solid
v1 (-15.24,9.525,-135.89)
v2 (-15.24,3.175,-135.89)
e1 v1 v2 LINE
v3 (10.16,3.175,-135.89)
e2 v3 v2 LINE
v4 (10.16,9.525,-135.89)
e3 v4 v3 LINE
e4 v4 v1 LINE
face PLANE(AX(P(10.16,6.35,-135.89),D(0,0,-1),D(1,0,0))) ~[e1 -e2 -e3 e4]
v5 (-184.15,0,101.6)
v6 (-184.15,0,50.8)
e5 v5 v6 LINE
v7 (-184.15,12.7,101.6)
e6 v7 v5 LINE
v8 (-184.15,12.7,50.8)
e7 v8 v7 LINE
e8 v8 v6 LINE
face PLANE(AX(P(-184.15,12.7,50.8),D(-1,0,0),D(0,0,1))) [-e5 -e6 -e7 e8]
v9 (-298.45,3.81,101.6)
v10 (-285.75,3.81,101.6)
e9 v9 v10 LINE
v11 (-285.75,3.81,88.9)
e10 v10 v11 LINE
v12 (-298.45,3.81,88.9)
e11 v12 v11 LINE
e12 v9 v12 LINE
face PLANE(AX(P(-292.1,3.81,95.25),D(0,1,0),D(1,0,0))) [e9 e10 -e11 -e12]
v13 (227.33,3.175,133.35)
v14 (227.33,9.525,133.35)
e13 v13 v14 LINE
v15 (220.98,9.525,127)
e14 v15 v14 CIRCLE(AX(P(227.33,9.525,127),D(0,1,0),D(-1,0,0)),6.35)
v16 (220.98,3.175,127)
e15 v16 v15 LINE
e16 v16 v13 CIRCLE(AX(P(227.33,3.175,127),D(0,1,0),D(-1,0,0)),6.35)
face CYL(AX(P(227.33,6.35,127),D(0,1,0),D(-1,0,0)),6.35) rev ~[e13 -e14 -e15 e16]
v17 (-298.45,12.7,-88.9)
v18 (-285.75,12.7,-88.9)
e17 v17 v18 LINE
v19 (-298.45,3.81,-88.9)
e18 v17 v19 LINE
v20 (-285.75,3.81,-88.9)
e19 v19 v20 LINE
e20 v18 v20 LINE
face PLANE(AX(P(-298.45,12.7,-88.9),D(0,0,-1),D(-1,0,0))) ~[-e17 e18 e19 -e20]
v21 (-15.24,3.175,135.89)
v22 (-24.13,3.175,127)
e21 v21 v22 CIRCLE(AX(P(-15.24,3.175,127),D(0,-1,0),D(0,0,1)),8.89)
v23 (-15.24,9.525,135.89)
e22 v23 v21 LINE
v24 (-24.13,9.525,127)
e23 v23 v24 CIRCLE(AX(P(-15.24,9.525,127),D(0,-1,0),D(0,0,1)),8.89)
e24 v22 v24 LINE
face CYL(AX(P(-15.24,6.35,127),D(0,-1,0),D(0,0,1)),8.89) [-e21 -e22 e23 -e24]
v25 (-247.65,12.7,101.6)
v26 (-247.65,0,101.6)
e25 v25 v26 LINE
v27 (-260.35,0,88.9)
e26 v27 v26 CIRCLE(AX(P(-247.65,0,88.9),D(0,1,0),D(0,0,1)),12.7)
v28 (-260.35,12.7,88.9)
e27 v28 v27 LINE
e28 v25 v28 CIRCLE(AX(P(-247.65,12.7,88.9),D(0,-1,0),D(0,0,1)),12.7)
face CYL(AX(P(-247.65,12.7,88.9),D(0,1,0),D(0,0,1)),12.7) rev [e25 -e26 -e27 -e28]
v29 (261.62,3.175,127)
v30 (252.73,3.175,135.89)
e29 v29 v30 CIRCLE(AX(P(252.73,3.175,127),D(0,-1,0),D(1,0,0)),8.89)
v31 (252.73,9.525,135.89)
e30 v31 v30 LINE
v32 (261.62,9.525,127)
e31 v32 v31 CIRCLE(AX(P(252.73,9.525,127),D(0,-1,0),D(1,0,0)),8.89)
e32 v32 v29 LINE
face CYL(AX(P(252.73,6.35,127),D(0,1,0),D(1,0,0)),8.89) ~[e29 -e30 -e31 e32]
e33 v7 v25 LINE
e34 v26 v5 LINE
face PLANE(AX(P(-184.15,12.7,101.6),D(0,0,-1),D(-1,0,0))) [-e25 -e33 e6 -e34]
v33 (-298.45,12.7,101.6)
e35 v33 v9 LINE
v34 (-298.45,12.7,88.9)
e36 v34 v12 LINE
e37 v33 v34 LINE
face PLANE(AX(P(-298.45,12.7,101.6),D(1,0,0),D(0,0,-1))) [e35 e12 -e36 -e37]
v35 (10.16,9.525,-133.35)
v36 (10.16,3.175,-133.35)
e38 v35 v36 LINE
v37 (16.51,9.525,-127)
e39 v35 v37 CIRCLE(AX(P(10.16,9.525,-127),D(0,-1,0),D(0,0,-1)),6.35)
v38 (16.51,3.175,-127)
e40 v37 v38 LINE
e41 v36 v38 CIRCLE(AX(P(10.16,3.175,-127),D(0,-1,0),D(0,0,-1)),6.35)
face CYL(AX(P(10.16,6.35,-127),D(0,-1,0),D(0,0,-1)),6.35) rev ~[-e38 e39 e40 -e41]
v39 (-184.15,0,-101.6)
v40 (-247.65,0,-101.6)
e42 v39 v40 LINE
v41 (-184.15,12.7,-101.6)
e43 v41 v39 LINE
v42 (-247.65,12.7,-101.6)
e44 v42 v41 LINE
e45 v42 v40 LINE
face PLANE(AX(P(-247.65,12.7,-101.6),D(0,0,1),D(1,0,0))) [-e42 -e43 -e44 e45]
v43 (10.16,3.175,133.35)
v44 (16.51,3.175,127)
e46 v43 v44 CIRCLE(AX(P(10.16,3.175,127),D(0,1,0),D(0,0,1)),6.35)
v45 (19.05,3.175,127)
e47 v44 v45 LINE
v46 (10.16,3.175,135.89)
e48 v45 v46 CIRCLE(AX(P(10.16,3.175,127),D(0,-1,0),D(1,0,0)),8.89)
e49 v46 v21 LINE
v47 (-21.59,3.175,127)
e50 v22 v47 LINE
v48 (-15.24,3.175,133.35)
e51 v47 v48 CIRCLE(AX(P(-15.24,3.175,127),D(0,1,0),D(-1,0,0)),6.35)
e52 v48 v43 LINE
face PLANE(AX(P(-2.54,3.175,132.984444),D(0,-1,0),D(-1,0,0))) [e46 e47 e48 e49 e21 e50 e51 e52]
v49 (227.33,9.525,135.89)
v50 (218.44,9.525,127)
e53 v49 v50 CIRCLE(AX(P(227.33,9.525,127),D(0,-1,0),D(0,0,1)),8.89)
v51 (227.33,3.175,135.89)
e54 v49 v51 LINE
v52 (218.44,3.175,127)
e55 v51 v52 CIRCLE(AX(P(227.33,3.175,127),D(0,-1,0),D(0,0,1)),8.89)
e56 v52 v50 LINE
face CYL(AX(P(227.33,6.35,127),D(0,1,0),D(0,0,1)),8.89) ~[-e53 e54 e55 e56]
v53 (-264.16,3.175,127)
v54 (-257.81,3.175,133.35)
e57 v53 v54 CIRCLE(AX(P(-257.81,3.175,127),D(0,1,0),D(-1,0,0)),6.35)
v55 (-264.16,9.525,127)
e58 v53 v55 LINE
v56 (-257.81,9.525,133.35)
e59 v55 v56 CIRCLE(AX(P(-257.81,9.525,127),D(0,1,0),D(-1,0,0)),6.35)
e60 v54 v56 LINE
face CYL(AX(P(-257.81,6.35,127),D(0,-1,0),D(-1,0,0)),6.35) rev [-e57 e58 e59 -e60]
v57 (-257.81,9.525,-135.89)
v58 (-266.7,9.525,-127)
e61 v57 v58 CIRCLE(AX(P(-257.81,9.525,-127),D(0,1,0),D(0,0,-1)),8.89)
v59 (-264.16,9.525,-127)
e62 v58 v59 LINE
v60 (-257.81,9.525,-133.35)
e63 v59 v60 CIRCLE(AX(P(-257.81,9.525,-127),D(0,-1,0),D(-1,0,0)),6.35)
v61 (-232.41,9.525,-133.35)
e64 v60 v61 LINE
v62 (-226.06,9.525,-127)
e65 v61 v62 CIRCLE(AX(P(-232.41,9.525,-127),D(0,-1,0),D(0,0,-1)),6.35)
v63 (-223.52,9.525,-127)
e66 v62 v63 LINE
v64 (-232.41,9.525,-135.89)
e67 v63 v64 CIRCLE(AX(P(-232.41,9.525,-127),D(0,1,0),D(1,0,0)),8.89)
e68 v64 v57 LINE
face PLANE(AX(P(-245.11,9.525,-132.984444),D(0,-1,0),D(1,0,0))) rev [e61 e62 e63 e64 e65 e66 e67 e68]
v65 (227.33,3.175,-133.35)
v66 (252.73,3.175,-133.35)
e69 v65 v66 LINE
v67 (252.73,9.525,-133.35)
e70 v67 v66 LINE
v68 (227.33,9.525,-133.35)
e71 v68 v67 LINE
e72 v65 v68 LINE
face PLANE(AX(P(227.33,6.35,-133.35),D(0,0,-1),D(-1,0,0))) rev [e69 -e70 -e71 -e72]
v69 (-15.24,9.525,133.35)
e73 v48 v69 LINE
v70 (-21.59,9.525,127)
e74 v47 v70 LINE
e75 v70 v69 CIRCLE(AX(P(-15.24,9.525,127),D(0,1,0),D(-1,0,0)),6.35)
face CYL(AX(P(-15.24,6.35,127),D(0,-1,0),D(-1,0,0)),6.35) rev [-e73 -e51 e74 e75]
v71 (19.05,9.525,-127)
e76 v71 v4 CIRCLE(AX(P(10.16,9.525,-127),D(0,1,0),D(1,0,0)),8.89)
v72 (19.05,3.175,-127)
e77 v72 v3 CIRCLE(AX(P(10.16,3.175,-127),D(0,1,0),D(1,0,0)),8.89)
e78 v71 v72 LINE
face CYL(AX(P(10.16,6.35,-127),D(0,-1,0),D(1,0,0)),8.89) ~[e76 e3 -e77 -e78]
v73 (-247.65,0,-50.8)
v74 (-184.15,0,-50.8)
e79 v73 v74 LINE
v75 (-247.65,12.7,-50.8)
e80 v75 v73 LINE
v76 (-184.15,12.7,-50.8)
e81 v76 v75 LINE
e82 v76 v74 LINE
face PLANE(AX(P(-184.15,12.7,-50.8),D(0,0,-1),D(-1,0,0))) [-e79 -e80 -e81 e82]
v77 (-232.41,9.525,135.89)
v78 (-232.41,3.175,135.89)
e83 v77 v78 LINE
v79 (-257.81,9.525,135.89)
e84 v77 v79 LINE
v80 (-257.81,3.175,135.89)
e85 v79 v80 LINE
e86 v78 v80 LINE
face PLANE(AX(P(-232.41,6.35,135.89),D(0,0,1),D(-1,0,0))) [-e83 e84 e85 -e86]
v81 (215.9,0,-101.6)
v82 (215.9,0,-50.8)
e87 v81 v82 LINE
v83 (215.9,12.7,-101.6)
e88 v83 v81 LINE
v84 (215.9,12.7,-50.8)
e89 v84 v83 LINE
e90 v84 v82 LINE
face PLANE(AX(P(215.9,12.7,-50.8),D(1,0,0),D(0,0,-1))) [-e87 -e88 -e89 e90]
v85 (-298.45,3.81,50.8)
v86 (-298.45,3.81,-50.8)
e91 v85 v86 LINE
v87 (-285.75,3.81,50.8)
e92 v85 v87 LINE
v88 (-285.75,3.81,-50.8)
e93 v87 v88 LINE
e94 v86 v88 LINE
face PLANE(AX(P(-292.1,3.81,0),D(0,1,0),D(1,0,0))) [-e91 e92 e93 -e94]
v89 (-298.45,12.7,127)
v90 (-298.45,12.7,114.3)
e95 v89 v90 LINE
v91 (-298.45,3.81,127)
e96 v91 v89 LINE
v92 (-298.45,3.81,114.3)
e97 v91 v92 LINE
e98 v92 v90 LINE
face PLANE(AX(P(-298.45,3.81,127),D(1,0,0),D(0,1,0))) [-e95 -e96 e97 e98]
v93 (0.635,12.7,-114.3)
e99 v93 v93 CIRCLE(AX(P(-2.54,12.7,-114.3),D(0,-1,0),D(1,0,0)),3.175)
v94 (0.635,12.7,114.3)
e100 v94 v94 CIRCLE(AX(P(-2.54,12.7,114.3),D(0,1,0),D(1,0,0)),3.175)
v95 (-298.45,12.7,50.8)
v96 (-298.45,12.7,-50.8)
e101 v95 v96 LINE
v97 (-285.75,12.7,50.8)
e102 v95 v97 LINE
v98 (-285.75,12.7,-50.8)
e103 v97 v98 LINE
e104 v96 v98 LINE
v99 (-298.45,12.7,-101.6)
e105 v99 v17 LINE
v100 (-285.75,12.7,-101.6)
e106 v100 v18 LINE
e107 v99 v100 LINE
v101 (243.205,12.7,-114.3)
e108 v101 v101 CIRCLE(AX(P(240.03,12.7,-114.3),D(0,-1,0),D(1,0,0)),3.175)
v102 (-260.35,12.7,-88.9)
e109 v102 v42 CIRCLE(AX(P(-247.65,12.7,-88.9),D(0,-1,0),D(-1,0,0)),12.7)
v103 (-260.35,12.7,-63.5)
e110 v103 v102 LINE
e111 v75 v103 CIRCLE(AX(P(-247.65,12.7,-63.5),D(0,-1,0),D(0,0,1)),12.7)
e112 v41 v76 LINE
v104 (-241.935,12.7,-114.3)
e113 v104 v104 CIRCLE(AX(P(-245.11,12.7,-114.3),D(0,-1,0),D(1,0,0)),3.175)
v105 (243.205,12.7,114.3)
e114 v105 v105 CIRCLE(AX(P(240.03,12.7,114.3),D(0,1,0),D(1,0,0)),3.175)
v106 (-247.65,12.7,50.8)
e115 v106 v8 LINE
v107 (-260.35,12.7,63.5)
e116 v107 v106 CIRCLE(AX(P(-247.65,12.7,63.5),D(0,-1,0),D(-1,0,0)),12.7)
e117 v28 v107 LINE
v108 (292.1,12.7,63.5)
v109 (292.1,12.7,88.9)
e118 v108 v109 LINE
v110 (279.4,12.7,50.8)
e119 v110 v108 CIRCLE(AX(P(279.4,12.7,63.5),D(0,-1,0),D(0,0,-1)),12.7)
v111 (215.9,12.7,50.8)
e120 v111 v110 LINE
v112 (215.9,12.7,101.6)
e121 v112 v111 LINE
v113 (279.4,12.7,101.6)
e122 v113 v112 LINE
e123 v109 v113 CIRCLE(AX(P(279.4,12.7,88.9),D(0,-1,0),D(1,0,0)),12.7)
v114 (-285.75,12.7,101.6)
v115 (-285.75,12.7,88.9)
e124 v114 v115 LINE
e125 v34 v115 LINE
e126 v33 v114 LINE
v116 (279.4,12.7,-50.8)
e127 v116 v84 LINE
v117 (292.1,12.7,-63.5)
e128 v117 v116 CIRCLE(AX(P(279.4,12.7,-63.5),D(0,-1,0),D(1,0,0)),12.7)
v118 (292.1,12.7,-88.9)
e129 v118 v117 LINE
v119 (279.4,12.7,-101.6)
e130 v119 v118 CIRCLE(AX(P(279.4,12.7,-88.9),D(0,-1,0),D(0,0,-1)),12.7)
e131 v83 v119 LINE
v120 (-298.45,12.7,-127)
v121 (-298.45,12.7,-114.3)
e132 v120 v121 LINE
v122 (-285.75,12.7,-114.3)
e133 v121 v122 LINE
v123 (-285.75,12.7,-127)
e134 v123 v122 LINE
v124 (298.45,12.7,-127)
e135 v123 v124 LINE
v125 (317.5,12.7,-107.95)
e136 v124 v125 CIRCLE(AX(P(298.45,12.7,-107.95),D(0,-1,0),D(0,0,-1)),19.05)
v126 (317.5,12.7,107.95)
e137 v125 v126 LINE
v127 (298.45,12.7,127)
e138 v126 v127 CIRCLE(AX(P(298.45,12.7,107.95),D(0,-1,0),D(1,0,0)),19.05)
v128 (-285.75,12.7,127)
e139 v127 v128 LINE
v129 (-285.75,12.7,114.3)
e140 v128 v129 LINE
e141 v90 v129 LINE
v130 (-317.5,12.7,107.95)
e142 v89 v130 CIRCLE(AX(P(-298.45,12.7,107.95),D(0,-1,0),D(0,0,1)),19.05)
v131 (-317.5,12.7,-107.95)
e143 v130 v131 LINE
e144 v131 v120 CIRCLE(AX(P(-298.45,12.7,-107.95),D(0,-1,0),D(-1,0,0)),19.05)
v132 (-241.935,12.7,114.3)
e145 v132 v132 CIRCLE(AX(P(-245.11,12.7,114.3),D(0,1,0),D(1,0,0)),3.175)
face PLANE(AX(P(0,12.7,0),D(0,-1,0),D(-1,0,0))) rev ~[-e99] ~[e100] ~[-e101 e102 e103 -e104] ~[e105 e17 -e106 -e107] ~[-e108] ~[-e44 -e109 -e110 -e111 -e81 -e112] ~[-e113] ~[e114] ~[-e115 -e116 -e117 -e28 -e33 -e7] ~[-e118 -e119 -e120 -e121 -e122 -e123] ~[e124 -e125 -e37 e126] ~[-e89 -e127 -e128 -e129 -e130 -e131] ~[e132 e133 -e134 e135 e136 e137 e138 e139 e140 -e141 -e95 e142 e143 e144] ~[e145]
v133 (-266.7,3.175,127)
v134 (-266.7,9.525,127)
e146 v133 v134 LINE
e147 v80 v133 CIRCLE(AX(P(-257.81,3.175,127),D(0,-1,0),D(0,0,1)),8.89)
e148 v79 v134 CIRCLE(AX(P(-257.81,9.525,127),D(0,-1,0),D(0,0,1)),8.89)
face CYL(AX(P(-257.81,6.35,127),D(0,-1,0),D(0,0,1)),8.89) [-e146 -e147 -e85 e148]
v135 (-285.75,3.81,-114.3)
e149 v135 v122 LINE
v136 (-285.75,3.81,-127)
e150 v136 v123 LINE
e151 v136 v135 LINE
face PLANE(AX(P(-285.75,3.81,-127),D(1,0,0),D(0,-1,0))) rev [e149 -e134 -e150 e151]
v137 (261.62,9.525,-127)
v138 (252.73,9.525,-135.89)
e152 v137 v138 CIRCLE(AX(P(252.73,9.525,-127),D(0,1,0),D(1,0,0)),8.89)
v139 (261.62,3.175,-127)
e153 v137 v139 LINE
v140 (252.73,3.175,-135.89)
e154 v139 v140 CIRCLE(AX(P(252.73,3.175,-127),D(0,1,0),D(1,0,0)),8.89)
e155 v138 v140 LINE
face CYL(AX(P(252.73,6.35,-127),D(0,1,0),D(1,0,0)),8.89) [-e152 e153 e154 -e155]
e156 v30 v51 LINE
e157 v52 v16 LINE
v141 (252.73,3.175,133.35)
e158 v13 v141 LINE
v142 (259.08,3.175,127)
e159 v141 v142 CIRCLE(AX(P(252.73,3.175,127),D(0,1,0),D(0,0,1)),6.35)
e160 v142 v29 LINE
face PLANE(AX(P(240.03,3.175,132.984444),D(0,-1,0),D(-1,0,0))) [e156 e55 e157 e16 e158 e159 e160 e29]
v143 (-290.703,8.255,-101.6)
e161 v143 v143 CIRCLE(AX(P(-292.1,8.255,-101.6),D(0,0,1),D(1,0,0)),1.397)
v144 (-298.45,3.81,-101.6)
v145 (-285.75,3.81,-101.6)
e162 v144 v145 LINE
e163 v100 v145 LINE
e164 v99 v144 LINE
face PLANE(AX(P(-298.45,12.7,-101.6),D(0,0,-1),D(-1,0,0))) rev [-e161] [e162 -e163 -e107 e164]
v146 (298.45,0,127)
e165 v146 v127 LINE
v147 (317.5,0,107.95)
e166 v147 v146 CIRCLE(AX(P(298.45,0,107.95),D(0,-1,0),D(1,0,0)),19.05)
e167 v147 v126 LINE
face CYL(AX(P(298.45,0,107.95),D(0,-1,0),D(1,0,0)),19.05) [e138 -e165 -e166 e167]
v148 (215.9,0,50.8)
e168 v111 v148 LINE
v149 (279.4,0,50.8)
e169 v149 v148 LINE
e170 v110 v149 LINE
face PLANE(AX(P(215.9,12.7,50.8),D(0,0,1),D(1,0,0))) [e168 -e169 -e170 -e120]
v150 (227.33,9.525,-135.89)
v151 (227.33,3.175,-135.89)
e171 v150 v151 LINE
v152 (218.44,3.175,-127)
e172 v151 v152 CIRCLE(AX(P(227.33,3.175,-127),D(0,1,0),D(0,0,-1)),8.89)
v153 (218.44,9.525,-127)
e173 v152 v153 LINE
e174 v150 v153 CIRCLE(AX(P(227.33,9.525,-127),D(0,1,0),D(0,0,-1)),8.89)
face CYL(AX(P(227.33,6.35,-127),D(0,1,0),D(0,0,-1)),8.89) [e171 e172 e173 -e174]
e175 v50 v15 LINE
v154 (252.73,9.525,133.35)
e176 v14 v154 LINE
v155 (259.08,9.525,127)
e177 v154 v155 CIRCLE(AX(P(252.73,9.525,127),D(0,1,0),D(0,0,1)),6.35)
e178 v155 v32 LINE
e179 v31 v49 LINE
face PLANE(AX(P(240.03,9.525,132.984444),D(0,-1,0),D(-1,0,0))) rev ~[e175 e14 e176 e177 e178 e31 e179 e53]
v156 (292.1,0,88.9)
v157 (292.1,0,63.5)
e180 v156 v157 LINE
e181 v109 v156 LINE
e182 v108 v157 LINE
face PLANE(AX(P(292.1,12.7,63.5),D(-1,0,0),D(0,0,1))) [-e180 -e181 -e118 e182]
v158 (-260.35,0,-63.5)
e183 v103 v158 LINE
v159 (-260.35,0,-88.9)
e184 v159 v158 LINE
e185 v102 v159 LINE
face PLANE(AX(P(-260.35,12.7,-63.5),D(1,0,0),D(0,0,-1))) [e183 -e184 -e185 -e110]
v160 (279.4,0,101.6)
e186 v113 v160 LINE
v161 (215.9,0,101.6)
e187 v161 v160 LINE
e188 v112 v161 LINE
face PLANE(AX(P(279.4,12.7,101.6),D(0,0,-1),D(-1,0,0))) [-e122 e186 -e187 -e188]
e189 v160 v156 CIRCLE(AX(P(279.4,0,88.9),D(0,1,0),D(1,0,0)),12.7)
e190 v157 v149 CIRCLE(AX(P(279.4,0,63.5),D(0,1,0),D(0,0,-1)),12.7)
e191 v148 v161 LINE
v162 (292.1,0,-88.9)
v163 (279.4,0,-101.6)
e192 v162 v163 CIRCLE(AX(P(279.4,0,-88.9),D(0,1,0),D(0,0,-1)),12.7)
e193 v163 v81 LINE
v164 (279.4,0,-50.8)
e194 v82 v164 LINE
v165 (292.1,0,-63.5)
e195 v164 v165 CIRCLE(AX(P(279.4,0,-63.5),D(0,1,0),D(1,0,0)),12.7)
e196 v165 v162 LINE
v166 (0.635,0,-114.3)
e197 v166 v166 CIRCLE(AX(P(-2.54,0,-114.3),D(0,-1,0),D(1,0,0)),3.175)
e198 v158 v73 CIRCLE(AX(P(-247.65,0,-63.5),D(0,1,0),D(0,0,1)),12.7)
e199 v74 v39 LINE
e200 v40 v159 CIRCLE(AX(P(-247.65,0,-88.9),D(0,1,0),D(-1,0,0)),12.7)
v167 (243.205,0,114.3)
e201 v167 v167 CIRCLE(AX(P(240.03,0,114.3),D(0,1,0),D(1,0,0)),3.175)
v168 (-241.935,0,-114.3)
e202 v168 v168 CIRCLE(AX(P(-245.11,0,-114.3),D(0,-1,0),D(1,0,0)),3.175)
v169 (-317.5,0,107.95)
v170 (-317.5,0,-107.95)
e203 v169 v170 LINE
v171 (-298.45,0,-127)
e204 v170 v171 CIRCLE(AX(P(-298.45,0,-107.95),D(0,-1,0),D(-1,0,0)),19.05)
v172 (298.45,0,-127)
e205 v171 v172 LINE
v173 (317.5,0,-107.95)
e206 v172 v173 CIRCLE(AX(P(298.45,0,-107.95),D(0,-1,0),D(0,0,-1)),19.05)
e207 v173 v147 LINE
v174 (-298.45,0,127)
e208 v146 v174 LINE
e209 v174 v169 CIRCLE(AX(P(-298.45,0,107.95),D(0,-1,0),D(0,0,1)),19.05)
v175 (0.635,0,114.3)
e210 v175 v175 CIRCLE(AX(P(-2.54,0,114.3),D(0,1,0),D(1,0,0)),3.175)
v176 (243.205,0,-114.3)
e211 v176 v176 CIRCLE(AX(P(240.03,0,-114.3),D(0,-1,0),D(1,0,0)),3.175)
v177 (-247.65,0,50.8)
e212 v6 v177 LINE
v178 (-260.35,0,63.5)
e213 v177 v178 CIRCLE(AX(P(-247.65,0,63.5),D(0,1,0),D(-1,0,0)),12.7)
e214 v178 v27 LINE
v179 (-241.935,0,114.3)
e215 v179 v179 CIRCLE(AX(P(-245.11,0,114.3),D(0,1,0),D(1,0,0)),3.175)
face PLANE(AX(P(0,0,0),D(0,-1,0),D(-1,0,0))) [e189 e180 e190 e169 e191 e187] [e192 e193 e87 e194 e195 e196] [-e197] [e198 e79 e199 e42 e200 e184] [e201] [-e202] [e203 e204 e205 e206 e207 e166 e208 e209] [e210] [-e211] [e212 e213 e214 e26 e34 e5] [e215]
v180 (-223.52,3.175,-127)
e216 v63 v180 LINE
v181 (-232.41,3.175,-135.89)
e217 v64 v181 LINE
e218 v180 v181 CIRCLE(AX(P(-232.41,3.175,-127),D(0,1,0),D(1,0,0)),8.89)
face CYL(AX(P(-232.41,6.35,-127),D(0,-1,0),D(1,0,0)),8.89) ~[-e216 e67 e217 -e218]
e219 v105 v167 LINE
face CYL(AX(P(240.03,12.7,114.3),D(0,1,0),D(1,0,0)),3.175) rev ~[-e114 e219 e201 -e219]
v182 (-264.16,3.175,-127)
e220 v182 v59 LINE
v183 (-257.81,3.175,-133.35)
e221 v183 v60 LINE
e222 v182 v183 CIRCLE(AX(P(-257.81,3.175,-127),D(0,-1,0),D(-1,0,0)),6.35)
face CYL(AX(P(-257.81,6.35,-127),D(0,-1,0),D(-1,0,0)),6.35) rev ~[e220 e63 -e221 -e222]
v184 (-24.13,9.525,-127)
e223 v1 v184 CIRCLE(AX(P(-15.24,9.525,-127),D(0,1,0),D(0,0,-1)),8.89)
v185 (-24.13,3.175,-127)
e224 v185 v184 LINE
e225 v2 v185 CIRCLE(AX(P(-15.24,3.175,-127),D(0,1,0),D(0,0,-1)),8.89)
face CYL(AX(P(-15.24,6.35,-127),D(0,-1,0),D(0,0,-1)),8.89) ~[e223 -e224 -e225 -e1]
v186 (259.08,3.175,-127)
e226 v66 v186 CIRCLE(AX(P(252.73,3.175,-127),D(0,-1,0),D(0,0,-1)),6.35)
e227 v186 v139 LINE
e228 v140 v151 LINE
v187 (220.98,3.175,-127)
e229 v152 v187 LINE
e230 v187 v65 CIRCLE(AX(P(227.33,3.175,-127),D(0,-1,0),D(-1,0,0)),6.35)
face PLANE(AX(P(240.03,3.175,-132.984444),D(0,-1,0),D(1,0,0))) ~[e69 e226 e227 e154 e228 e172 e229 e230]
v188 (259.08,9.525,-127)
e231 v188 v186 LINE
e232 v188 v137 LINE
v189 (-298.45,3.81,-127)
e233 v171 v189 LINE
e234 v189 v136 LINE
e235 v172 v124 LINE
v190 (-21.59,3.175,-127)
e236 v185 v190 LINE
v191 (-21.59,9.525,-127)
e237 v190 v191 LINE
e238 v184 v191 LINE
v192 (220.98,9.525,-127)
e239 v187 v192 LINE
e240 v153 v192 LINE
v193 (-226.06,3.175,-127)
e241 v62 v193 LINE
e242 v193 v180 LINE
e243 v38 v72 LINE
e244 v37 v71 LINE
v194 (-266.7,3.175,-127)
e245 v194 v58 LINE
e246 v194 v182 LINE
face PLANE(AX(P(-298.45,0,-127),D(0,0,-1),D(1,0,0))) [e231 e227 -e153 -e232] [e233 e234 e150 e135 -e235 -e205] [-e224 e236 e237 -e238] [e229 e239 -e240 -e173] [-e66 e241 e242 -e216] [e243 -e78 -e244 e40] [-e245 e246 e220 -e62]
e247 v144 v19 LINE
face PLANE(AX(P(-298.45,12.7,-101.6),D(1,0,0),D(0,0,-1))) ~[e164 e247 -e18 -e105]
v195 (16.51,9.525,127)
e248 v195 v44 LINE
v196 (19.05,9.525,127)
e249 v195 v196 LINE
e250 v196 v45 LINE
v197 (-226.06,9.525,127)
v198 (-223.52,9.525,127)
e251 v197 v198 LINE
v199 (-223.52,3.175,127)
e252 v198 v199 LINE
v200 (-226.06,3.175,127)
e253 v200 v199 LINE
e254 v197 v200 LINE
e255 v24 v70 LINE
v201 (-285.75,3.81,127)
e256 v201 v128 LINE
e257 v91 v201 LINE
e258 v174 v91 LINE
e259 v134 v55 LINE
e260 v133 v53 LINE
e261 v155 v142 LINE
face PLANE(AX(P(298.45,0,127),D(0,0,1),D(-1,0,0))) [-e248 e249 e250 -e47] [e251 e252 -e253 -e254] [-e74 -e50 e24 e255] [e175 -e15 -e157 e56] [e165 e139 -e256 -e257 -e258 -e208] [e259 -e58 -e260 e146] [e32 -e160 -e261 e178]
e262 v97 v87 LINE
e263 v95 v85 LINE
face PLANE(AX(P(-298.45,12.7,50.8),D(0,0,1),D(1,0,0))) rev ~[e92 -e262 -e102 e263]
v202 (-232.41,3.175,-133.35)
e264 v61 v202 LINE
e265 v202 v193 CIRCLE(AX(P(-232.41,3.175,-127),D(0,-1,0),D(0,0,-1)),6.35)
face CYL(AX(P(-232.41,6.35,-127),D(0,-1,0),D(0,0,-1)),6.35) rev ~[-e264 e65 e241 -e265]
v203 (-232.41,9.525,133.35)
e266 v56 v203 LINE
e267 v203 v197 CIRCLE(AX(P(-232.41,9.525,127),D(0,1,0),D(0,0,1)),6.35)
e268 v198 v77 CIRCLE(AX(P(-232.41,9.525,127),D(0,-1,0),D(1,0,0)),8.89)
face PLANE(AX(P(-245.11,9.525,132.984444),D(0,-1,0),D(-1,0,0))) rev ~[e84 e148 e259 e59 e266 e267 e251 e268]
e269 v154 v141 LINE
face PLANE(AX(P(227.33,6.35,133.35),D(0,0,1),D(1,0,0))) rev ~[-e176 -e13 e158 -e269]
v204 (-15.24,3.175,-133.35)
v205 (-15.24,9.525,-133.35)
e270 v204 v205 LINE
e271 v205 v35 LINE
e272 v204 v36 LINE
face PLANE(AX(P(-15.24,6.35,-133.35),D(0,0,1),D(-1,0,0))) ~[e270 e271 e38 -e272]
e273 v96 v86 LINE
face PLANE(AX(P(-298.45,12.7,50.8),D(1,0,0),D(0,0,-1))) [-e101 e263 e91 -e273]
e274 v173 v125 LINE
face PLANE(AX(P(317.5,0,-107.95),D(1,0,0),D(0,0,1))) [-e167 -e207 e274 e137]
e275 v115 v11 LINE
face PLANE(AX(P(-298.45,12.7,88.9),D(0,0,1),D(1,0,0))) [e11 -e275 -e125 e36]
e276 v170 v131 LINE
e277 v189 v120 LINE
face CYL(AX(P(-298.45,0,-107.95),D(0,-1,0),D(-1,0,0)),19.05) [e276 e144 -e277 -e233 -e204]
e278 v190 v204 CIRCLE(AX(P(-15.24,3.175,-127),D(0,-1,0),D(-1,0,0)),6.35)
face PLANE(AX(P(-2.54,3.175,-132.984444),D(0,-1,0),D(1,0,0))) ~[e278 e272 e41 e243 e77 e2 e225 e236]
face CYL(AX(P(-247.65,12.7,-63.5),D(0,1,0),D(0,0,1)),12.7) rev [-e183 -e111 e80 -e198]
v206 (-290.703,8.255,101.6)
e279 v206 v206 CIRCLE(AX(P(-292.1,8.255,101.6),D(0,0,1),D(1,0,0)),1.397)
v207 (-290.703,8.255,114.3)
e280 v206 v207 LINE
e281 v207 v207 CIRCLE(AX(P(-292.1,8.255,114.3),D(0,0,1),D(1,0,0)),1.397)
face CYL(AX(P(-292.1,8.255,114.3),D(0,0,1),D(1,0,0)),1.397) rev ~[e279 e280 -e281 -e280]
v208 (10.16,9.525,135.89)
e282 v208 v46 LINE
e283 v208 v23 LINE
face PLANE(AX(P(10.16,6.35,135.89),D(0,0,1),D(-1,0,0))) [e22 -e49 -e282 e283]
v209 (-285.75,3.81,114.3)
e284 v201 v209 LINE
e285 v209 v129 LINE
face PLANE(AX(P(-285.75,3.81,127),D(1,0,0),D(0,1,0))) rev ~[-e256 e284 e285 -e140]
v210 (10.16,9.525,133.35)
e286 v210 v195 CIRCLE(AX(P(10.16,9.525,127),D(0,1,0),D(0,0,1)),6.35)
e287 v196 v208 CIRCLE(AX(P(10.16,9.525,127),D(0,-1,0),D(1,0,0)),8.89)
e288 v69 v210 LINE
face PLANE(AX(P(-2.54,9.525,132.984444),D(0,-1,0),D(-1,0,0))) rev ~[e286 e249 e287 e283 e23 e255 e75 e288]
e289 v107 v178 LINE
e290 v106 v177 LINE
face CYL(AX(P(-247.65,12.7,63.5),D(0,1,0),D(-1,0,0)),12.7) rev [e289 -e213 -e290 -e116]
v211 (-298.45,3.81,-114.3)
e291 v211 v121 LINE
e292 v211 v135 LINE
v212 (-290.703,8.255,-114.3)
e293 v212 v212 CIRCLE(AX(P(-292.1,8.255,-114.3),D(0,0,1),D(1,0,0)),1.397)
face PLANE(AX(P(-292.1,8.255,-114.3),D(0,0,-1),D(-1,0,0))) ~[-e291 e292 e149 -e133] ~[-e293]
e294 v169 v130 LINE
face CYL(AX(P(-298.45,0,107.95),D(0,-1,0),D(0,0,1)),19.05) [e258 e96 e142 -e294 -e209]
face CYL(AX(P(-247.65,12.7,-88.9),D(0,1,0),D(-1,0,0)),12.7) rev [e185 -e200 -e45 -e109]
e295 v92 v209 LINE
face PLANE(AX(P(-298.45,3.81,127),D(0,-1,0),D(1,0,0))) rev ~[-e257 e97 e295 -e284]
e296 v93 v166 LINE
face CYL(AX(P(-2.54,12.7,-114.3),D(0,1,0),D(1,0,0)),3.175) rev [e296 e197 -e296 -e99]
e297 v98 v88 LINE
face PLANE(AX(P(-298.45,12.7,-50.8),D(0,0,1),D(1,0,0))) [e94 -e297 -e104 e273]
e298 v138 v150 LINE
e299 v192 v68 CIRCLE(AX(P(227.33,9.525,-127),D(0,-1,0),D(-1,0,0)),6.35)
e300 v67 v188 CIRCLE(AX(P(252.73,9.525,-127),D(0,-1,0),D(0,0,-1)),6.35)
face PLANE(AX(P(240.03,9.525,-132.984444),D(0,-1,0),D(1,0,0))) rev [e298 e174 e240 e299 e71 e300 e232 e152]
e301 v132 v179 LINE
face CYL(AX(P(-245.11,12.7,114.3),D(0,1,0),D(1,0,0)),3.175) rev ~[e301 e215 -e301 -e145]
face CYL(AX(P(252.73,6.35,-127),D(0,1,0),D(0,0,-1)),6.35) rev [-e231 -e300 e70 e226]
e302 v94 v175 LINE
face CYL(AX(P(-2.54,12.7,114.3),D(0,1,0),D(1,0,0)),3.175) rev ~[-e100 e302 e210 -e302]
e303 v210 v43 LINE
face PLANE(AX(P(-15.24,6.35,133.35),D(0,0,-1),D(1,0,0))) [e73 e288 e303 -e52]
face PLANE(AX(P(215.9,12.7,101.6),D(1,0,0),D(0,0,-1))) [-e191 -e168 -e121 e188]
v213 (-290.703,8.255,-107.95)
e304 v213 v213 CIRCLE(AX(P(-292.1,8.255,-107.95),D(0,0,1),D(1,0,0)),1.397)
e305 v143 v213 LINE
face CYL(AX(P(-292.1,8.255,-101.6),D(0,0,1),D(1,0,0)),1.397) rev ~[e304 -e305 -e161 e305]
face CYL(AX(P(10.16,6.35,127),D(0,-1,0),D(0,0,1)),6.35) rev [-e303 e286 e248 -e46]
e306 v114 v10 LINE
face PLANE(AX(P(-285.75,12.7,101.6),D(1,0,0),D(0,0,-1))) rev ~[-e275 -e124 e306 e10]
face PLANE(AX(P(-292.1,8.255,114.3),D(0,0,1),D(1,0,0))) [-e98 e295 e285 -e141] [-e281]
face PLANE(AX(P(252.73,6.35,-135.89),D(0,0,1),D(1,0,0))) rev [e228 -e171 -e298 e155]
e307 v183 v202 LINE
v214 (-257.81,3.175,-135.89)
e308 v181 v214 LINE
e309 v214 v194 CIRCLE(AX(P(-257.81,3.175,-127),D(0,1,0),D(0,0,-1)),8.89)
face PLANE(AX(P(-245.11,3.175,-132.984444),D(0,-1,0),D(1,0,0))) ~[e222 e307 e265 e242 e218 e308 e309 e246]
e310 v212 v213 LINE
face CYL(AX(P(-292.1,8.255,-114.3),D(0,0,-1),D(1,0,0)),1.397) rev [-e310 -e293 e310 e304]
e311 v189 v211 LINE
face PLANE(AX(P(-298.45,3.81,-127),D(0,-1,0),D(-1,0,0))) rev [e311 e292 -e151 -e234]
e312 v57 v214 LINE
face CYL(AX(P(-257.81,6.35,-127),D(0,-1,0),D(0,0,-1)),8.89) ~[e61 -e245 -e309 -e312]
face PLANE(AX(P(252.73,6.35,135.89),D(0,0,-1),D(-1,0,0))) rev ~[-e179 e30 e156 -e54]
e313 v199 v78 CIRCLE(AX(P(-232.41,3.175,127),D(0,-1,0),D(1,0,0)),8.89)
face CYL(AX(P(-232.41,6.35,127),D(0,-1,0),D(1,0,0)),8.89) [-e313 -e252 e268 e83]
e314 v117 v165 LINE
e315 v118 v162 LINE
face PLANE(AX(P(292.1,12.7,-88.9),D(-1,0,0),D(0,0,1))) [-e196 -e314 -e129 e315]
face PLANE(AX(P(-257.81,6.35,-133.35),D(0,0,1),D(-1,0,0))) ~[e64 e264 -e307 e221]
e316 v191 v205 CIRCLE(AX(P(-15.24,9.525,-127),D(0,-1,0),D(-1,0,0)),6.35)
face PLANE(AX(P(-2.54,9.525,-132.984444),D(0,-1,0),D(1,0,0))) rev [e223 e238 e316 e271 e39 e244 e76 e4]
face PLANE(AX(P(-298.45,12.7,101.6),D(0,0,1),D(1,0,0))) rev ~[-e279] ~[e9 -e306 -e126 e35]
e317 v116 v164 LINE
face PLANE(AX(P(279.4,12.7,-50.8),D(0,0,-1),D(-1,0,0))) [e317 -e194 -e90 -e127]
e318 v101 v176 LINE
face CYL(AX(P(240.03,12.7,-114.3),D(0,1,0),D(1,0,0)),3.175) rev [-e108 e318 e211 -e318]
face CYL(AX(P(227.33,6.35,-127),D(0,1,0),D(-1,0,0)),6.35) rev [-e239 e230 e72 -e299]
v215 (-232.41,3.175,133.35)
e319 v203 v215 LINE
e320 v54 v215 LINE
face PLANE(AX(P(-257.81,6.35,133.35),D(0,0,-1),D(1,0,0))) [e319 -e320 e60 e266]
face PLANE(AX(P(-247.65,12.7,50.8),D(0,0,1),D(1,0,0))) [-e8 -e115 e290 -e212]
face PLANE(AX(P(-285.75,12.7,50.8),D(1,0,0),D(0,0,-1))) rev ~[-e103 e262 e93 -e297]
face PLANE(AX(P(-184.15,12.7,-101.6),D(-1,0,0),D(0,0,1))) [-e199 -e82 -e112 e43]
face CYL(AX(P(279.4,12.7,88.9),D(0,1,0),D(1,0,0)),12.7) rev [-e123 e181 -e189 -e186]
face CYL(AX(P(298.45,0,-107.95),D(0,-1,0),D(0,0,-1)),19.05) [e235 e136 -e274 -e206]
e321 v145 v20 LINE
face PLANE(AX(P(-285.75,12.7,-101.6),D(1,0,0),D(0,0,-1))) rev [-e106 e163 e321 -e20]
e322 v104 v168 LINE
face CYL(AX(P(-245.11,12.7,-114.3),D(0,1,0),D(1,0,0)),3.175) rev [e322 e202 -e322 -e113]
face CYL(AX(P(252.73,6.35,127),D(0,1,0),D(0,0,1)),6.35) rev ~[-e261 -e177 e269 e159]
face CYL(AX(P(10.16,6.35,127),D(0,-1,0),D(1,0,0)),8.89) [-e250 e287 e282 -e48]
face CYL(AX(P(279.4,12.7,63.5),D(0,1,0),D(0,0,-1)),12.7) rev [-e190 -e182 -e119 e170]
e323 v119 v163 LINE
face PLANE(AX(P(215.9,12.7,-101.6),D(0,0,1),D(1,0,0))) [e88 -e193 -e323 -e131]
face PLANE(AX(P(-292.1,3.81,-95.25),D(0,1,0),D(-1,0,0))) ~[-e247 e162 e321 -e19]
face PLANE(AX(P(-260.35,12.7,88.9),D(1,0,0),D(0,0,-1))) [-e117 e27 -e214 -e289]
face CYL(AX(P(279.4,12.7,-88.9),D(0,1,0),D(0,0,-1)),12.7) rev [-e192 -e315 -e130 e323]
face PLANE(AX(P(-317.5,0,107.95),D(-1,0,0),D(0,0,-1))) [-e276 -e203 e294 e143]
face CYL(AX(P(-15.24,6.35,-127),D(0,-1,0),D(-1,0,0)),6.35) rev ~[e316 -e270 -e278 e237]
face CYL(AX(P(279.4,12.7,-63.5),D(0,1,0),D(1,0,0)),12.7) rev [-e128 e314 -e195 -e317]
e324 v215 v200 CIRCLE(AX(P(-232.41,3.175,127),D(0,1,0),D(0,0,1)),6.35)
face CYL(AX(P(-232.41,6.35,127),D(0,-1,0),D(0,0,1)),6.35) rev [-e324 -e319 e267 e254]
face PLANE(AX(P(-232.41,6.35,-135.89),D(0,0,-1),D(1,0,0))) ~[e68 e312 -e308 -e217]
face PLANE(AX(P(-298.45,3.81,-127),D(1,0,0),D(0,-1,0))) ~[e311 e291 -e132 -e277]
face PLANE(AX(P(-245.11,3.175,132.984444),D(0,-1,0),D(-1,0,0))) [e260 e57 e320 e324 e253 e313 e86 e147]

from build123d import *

# Parameters (mm, degrees)
BOSS_EXTRUDE1_DEPTH     = 12.7
BACKREST_BRACKET_SLOT_W = 12.7
BACKREST_BRACKET_SLOT_H = 8.89
CUT_EXTRUDE3_DEPTH      = 12.7
BACKREST_SCREW_HOLE_R   = 1.397
CUT_EXTRUDE4_DEPTH      = 6.35
CUT_EXTRUDE5_DEPTH      = 25.4
BOSS_EXTRUDE2_DEPTH     = 3.175
SKETCH37_W              = 12.7
SKETCH37_H              = 101.6
CUT_EXTRUDE7_DEPTH      = 8.89
SKETCH38_R              = 3.175
CUT_EXTRUDE8_DEPTH      = 12.7
SKETCH39_W              = 12.7
SKETCH39_H              = 12.7
CUT_EXTRUDE9_DEPTH      = 8.89
CUT_EXTRUDE10_START     = -12.7
SKETCH40_R              = 1.397
CUT_EXTRUDE10_DEPTH     = 6.35


with BuildPart() as part:
    # Main Body → Boss-Extrude1 (new body)
    with BuildSketch(Plane(origin=(0, 0, 0), x_dir=(1, 0, 0), z_dir=(0, 1, 0))):
        with BuildLine():
            Line((-317.5, -107.95), (-317.5, 107.95))
            ThreePointArc((-317.5, 107.95), (-311.920384182, 121.420384182), (-298.45, 127))
            Line((-298.45, 127), (298.45, 127))
            ThreePointArc((298.45, 127), (311.920384182, 121.420384182), (317.5, 107.95))
            Line((317.5, 107.95), (317.5, -107.95))
            ThreePointArc((317.5, -107.95), (311.920384182, -121.420384182), (298.45, -127))
            Line((298.45, -127), (-298.45, -127))
            ThreePointArc((-298.45, -127), (-311.920384182, -121.420384182), (-317.5, -107.95))
        make_face()
    extrude(amount=BOSS_EXTRUDE1_DEPTH)

    # Backrest Bracket Slot → Cut-Extrude3 (cut)
    with BuildSketch(Plane.XY.offset(127)):
        with Locations((-292.1, 8.255)):
            Rectangle(BACKREST_BRACKET_SLOT_W, BACKREST_BRACKET_SLOT_H)
    cut_extrude3 = extrude(amount=-CUT_EXTRUDE3_DEPTH, mode=Mode.SUBTRACT)

    # Backrest Screw Hole → Cut-Extrude4 (cut)
    with BuildSketch(Plane.XY.offset(114.3)):
        with Locations((-292.1, 8.255)):
            Circle(BACKREST_SCREW_HOLE_R)
    cut_extrude4 = extrude(amount=-CUT_EXTRUDE4_DEPTH, mode=Mode.SUBTRACT)

    # Mirror1: Cut-Extrude3, Cut-Extrude4 across plane
    add(cut_extrude3.mirror(Plane.XY), mode=Mode.SUBTRACT)
    add(cut_extrude4.mirror(Plane.XY), mode=Mode.SUBTRACT)

    # Couch Foot Slits → Cut-Extrude5 (cut)
    with BuildSketch(Plane(origin=(0, 12.7, 0), x_dir=(1, 0, 0), z_dir=(0, 1, 0))):
        with BuildLine():
            Line((-247.65, 101.6), (-184.15, 101.6))
            Line((-184.15, 101.6), (-184.15, 50.8))
            Line((-184.15, 50.8), (-247.65, 50.8))
            ThreePointArc((-247.65, 50.8), (-256.630256121, 54.519743879), (-260.35, 63.5))
            Line((-260.35, 63.5), (-260.35, 88.9))
            ThreePointArc((-260.35, 88.9), (-256.630256121, 97.880256121), (-247.65, 101.6))
        make_face()
        with BuildLine():
            Line((292.1, 88.9), (292.1, 63.5))
            ThreePointArc((292.1, 63.5), (288.380256121, 54.519743879), (279.4, 50.8))
            Line((279.4, 50.8), (215.9, 50.8))
            Line((215.9, 50.8), (215.9, 101.6))
            Line((215.9, 101.6), (279.4, 101.6))
            ThreePointArc((279.4, 101.6), (288.380256121, 97.880256121), (292.1, 88.9))
        make_face()
        with BuildLine():
            Line((-247.65, -50.8), (-184.15, -50.8))
            Line((-184.15, -50.8), (-184.15, -101.6))
            Line((-184.15, -101.6), (-247.65, -101.6))
            ThreePointArc((-247.65, -101.6), (-256.630256121, -97.880256121), (-260.35, -88.9))
            Line((-260.35, -88.9), (-260.35, -63.5))
            ThreePointArc((-260.35, -63.5), (-256.630256121, -54.519743879), (-247.65, -50.8))
        make_face()
        with BuildLine():
            Line((292.1, -63.5), (292.1, -88.9))
            ThreePointArc((292.1, -88.9), (288.380256121, -97.880256121), (279.4, -101.6))
            Line((279.4, -101.6), (215.9, -101.6))
            Line((215.9, -101.6), (215.9, -50.8))
            Line((215.9, -50.8), (279.4, -50.8))
            ThreePointArc((279.4, -50.8), (288.380256121, -54.519743879), (292.1, -63.5))
        make_face()
    extrude(amount=-CUT_EXTRUDE5_DEPTH, mode=Mode.SUBTRACT)

    # Sketch24 → Boss-Extrude2 (add, symmetric)
    with BuildSketch(Plane(origin=(0, 6.35, 0), x_dir=(1, 0, 0), z_dir=(0, 1, 0))):
        with BuildLine():
            Line((-15.24, -133.35), (10.16, -133.35))
            ThreePointArc((10.16, -133.35), (14.650128061, -131.490128061), (16.51, -127))
            Line((16.51, -127), (19.05, -127))
            ThreePointArc((19.05, -127), (16.446179285, -133.286179285), (10.16, -135.89))
            Line((10.16, -135.89), (-15.24, -135.89))
            ThreePointArc((-15.24, -135.89), (-21.526179285, -133.286179285), (-24.13, -127))
            Line((-24.13, -127), (-21.59, -127))
            ThreePointArc((-21.59, -127), (-19.730128061, -131.490128061), (-15.24, -133.35))
        make_face()
        with BuildLine():
            Line((-257.81, -133.35), (-232.41, -133.35))
            ThreePointArc((-232.41, -133.35), (-227.919871939, -131.490128061), (-226.06, -127))
            Line((-226.06, -127), (-223.52, -127))
            ThreePointArc((-223.52, -127), (-226.123820715, -133.286179285), (-232.41, -135.89))
            Line((-232.41, -135.89), (-257.81, -135.89))
            ThreePointArc((-257.81, -135.89), (-264.096179285, -133.286179285), (-266.7, -127))
            Line((-266.7, -127), (-264.16, -127))
            ThreePointArc((-264.16, -127), (-262.300128061, -131.490128061), (-257.81, -133.35))
        make_face()
        with BuildLine():
            Line((227.33, -133.35), (252.73, -133.35))
            ThreePointArc((252.73, -133.35), (257.220128061, -131.490128061), (259.08, -127))
            Line((259.08, -127), (261.62, -127))
            ThreePointArc((261.62, -127), (259.016179285, -133.286179285), (252.73, -135.89))
            Line((252.73, -135.89), (227.33, -135.89))
            ThreePointArc((227.33, -135.89), (221.043820715, -133.286179285), (218.44, -127))
            Line((218.44, -127), (220.98, -127))
            ThreePointArc((220.98, -127), (222.839871939, -131.490128061), (227.33, -133.35))
        make_face()
    boss_extrude2 = extrude(amount=BOSS_EXTRUDE2_DEPTH, both=True)

    # Mirror2: Boss-Extrude2 across plane
    add(boss_extrude2.mirror(Plane.XY))

    # Sketch37 → Cut-Extrude7 (cut)
    with BuildSketch(Plane(origin=(0, 12.7, 0), x_dir=(1, 0, 0), z_dir=(0, 1, 0))):
        with Locations((-292.1, 0)):
            Rectangle(SKETCH37_W, SKETCH37_H)
    extrude(amount=-CUT_EXTRUDE7_DEPTH, mode=Mode.SUBTRACT)

    # Sketch38 → Cut-Extrude8 (cut)
    with BuildSketch(Plane(origin=(0, 12.7, 0), x_dir=(1, 0, 0), z_dir=(0, 1, 0))):
        with Locations((-245.11, -114.3)):
            Circle(SKETCH38_R)
        with Locations((-2.54, -114.3)):
            Circle(SKETCH38_R)
        with Locations((240.03, -114.3)):
            Circle(SKETCH38_R)
    cut_extrude8 = extrude(amount=-CUT_EXTRUDE8_DEPTH, mode=Mode.SUBTRACT)

    # Mirror3: Cut-Extrude8 across plane
    add(cut_extrude8.mirror(Plane.XY), mode=Mode.SUBTRACT)

    # Sketch39 → Cut-Extrude9 (cut)
    with BuildSketch(Plane(origin=(0, 12.7, 0), x_dir=(1, 0, 0), z_dir=(0, 1, 0))):
        with Locations((-292.1, -95.25)):
            Rectangle(SKETCH39_W, SKETCH39_H)
    cut_extrude9 = extrude(amount=-CUT_EXTRUDE9_DEPTH, mode=Mode.SUBTRACT)

    # Sketch40 → Cut-Extrude10 (cut)
    with BuildSketch(Plane.XY.offset(114.3).offset(CUT_EXTRUDE10_START)):
        with Locations((-292.1, 8.255)):
            Circle(SKETCH40_R)
    cut_extrude10 = extrude(amount=CUT_EXTRUDE10_DEPTH, mode=Mode.SUBTRACT)

    # Mirror5: Cut-Extrude9, Cut-Extrude10 across plane
    add(cut_extrude9.mirror(Plane.XY), mode=Mode.SUBTRACT)
    add(cut_extrude10.mirror(Plane.XY), mode=Mode.SUBTRACT)


solid = part.part
